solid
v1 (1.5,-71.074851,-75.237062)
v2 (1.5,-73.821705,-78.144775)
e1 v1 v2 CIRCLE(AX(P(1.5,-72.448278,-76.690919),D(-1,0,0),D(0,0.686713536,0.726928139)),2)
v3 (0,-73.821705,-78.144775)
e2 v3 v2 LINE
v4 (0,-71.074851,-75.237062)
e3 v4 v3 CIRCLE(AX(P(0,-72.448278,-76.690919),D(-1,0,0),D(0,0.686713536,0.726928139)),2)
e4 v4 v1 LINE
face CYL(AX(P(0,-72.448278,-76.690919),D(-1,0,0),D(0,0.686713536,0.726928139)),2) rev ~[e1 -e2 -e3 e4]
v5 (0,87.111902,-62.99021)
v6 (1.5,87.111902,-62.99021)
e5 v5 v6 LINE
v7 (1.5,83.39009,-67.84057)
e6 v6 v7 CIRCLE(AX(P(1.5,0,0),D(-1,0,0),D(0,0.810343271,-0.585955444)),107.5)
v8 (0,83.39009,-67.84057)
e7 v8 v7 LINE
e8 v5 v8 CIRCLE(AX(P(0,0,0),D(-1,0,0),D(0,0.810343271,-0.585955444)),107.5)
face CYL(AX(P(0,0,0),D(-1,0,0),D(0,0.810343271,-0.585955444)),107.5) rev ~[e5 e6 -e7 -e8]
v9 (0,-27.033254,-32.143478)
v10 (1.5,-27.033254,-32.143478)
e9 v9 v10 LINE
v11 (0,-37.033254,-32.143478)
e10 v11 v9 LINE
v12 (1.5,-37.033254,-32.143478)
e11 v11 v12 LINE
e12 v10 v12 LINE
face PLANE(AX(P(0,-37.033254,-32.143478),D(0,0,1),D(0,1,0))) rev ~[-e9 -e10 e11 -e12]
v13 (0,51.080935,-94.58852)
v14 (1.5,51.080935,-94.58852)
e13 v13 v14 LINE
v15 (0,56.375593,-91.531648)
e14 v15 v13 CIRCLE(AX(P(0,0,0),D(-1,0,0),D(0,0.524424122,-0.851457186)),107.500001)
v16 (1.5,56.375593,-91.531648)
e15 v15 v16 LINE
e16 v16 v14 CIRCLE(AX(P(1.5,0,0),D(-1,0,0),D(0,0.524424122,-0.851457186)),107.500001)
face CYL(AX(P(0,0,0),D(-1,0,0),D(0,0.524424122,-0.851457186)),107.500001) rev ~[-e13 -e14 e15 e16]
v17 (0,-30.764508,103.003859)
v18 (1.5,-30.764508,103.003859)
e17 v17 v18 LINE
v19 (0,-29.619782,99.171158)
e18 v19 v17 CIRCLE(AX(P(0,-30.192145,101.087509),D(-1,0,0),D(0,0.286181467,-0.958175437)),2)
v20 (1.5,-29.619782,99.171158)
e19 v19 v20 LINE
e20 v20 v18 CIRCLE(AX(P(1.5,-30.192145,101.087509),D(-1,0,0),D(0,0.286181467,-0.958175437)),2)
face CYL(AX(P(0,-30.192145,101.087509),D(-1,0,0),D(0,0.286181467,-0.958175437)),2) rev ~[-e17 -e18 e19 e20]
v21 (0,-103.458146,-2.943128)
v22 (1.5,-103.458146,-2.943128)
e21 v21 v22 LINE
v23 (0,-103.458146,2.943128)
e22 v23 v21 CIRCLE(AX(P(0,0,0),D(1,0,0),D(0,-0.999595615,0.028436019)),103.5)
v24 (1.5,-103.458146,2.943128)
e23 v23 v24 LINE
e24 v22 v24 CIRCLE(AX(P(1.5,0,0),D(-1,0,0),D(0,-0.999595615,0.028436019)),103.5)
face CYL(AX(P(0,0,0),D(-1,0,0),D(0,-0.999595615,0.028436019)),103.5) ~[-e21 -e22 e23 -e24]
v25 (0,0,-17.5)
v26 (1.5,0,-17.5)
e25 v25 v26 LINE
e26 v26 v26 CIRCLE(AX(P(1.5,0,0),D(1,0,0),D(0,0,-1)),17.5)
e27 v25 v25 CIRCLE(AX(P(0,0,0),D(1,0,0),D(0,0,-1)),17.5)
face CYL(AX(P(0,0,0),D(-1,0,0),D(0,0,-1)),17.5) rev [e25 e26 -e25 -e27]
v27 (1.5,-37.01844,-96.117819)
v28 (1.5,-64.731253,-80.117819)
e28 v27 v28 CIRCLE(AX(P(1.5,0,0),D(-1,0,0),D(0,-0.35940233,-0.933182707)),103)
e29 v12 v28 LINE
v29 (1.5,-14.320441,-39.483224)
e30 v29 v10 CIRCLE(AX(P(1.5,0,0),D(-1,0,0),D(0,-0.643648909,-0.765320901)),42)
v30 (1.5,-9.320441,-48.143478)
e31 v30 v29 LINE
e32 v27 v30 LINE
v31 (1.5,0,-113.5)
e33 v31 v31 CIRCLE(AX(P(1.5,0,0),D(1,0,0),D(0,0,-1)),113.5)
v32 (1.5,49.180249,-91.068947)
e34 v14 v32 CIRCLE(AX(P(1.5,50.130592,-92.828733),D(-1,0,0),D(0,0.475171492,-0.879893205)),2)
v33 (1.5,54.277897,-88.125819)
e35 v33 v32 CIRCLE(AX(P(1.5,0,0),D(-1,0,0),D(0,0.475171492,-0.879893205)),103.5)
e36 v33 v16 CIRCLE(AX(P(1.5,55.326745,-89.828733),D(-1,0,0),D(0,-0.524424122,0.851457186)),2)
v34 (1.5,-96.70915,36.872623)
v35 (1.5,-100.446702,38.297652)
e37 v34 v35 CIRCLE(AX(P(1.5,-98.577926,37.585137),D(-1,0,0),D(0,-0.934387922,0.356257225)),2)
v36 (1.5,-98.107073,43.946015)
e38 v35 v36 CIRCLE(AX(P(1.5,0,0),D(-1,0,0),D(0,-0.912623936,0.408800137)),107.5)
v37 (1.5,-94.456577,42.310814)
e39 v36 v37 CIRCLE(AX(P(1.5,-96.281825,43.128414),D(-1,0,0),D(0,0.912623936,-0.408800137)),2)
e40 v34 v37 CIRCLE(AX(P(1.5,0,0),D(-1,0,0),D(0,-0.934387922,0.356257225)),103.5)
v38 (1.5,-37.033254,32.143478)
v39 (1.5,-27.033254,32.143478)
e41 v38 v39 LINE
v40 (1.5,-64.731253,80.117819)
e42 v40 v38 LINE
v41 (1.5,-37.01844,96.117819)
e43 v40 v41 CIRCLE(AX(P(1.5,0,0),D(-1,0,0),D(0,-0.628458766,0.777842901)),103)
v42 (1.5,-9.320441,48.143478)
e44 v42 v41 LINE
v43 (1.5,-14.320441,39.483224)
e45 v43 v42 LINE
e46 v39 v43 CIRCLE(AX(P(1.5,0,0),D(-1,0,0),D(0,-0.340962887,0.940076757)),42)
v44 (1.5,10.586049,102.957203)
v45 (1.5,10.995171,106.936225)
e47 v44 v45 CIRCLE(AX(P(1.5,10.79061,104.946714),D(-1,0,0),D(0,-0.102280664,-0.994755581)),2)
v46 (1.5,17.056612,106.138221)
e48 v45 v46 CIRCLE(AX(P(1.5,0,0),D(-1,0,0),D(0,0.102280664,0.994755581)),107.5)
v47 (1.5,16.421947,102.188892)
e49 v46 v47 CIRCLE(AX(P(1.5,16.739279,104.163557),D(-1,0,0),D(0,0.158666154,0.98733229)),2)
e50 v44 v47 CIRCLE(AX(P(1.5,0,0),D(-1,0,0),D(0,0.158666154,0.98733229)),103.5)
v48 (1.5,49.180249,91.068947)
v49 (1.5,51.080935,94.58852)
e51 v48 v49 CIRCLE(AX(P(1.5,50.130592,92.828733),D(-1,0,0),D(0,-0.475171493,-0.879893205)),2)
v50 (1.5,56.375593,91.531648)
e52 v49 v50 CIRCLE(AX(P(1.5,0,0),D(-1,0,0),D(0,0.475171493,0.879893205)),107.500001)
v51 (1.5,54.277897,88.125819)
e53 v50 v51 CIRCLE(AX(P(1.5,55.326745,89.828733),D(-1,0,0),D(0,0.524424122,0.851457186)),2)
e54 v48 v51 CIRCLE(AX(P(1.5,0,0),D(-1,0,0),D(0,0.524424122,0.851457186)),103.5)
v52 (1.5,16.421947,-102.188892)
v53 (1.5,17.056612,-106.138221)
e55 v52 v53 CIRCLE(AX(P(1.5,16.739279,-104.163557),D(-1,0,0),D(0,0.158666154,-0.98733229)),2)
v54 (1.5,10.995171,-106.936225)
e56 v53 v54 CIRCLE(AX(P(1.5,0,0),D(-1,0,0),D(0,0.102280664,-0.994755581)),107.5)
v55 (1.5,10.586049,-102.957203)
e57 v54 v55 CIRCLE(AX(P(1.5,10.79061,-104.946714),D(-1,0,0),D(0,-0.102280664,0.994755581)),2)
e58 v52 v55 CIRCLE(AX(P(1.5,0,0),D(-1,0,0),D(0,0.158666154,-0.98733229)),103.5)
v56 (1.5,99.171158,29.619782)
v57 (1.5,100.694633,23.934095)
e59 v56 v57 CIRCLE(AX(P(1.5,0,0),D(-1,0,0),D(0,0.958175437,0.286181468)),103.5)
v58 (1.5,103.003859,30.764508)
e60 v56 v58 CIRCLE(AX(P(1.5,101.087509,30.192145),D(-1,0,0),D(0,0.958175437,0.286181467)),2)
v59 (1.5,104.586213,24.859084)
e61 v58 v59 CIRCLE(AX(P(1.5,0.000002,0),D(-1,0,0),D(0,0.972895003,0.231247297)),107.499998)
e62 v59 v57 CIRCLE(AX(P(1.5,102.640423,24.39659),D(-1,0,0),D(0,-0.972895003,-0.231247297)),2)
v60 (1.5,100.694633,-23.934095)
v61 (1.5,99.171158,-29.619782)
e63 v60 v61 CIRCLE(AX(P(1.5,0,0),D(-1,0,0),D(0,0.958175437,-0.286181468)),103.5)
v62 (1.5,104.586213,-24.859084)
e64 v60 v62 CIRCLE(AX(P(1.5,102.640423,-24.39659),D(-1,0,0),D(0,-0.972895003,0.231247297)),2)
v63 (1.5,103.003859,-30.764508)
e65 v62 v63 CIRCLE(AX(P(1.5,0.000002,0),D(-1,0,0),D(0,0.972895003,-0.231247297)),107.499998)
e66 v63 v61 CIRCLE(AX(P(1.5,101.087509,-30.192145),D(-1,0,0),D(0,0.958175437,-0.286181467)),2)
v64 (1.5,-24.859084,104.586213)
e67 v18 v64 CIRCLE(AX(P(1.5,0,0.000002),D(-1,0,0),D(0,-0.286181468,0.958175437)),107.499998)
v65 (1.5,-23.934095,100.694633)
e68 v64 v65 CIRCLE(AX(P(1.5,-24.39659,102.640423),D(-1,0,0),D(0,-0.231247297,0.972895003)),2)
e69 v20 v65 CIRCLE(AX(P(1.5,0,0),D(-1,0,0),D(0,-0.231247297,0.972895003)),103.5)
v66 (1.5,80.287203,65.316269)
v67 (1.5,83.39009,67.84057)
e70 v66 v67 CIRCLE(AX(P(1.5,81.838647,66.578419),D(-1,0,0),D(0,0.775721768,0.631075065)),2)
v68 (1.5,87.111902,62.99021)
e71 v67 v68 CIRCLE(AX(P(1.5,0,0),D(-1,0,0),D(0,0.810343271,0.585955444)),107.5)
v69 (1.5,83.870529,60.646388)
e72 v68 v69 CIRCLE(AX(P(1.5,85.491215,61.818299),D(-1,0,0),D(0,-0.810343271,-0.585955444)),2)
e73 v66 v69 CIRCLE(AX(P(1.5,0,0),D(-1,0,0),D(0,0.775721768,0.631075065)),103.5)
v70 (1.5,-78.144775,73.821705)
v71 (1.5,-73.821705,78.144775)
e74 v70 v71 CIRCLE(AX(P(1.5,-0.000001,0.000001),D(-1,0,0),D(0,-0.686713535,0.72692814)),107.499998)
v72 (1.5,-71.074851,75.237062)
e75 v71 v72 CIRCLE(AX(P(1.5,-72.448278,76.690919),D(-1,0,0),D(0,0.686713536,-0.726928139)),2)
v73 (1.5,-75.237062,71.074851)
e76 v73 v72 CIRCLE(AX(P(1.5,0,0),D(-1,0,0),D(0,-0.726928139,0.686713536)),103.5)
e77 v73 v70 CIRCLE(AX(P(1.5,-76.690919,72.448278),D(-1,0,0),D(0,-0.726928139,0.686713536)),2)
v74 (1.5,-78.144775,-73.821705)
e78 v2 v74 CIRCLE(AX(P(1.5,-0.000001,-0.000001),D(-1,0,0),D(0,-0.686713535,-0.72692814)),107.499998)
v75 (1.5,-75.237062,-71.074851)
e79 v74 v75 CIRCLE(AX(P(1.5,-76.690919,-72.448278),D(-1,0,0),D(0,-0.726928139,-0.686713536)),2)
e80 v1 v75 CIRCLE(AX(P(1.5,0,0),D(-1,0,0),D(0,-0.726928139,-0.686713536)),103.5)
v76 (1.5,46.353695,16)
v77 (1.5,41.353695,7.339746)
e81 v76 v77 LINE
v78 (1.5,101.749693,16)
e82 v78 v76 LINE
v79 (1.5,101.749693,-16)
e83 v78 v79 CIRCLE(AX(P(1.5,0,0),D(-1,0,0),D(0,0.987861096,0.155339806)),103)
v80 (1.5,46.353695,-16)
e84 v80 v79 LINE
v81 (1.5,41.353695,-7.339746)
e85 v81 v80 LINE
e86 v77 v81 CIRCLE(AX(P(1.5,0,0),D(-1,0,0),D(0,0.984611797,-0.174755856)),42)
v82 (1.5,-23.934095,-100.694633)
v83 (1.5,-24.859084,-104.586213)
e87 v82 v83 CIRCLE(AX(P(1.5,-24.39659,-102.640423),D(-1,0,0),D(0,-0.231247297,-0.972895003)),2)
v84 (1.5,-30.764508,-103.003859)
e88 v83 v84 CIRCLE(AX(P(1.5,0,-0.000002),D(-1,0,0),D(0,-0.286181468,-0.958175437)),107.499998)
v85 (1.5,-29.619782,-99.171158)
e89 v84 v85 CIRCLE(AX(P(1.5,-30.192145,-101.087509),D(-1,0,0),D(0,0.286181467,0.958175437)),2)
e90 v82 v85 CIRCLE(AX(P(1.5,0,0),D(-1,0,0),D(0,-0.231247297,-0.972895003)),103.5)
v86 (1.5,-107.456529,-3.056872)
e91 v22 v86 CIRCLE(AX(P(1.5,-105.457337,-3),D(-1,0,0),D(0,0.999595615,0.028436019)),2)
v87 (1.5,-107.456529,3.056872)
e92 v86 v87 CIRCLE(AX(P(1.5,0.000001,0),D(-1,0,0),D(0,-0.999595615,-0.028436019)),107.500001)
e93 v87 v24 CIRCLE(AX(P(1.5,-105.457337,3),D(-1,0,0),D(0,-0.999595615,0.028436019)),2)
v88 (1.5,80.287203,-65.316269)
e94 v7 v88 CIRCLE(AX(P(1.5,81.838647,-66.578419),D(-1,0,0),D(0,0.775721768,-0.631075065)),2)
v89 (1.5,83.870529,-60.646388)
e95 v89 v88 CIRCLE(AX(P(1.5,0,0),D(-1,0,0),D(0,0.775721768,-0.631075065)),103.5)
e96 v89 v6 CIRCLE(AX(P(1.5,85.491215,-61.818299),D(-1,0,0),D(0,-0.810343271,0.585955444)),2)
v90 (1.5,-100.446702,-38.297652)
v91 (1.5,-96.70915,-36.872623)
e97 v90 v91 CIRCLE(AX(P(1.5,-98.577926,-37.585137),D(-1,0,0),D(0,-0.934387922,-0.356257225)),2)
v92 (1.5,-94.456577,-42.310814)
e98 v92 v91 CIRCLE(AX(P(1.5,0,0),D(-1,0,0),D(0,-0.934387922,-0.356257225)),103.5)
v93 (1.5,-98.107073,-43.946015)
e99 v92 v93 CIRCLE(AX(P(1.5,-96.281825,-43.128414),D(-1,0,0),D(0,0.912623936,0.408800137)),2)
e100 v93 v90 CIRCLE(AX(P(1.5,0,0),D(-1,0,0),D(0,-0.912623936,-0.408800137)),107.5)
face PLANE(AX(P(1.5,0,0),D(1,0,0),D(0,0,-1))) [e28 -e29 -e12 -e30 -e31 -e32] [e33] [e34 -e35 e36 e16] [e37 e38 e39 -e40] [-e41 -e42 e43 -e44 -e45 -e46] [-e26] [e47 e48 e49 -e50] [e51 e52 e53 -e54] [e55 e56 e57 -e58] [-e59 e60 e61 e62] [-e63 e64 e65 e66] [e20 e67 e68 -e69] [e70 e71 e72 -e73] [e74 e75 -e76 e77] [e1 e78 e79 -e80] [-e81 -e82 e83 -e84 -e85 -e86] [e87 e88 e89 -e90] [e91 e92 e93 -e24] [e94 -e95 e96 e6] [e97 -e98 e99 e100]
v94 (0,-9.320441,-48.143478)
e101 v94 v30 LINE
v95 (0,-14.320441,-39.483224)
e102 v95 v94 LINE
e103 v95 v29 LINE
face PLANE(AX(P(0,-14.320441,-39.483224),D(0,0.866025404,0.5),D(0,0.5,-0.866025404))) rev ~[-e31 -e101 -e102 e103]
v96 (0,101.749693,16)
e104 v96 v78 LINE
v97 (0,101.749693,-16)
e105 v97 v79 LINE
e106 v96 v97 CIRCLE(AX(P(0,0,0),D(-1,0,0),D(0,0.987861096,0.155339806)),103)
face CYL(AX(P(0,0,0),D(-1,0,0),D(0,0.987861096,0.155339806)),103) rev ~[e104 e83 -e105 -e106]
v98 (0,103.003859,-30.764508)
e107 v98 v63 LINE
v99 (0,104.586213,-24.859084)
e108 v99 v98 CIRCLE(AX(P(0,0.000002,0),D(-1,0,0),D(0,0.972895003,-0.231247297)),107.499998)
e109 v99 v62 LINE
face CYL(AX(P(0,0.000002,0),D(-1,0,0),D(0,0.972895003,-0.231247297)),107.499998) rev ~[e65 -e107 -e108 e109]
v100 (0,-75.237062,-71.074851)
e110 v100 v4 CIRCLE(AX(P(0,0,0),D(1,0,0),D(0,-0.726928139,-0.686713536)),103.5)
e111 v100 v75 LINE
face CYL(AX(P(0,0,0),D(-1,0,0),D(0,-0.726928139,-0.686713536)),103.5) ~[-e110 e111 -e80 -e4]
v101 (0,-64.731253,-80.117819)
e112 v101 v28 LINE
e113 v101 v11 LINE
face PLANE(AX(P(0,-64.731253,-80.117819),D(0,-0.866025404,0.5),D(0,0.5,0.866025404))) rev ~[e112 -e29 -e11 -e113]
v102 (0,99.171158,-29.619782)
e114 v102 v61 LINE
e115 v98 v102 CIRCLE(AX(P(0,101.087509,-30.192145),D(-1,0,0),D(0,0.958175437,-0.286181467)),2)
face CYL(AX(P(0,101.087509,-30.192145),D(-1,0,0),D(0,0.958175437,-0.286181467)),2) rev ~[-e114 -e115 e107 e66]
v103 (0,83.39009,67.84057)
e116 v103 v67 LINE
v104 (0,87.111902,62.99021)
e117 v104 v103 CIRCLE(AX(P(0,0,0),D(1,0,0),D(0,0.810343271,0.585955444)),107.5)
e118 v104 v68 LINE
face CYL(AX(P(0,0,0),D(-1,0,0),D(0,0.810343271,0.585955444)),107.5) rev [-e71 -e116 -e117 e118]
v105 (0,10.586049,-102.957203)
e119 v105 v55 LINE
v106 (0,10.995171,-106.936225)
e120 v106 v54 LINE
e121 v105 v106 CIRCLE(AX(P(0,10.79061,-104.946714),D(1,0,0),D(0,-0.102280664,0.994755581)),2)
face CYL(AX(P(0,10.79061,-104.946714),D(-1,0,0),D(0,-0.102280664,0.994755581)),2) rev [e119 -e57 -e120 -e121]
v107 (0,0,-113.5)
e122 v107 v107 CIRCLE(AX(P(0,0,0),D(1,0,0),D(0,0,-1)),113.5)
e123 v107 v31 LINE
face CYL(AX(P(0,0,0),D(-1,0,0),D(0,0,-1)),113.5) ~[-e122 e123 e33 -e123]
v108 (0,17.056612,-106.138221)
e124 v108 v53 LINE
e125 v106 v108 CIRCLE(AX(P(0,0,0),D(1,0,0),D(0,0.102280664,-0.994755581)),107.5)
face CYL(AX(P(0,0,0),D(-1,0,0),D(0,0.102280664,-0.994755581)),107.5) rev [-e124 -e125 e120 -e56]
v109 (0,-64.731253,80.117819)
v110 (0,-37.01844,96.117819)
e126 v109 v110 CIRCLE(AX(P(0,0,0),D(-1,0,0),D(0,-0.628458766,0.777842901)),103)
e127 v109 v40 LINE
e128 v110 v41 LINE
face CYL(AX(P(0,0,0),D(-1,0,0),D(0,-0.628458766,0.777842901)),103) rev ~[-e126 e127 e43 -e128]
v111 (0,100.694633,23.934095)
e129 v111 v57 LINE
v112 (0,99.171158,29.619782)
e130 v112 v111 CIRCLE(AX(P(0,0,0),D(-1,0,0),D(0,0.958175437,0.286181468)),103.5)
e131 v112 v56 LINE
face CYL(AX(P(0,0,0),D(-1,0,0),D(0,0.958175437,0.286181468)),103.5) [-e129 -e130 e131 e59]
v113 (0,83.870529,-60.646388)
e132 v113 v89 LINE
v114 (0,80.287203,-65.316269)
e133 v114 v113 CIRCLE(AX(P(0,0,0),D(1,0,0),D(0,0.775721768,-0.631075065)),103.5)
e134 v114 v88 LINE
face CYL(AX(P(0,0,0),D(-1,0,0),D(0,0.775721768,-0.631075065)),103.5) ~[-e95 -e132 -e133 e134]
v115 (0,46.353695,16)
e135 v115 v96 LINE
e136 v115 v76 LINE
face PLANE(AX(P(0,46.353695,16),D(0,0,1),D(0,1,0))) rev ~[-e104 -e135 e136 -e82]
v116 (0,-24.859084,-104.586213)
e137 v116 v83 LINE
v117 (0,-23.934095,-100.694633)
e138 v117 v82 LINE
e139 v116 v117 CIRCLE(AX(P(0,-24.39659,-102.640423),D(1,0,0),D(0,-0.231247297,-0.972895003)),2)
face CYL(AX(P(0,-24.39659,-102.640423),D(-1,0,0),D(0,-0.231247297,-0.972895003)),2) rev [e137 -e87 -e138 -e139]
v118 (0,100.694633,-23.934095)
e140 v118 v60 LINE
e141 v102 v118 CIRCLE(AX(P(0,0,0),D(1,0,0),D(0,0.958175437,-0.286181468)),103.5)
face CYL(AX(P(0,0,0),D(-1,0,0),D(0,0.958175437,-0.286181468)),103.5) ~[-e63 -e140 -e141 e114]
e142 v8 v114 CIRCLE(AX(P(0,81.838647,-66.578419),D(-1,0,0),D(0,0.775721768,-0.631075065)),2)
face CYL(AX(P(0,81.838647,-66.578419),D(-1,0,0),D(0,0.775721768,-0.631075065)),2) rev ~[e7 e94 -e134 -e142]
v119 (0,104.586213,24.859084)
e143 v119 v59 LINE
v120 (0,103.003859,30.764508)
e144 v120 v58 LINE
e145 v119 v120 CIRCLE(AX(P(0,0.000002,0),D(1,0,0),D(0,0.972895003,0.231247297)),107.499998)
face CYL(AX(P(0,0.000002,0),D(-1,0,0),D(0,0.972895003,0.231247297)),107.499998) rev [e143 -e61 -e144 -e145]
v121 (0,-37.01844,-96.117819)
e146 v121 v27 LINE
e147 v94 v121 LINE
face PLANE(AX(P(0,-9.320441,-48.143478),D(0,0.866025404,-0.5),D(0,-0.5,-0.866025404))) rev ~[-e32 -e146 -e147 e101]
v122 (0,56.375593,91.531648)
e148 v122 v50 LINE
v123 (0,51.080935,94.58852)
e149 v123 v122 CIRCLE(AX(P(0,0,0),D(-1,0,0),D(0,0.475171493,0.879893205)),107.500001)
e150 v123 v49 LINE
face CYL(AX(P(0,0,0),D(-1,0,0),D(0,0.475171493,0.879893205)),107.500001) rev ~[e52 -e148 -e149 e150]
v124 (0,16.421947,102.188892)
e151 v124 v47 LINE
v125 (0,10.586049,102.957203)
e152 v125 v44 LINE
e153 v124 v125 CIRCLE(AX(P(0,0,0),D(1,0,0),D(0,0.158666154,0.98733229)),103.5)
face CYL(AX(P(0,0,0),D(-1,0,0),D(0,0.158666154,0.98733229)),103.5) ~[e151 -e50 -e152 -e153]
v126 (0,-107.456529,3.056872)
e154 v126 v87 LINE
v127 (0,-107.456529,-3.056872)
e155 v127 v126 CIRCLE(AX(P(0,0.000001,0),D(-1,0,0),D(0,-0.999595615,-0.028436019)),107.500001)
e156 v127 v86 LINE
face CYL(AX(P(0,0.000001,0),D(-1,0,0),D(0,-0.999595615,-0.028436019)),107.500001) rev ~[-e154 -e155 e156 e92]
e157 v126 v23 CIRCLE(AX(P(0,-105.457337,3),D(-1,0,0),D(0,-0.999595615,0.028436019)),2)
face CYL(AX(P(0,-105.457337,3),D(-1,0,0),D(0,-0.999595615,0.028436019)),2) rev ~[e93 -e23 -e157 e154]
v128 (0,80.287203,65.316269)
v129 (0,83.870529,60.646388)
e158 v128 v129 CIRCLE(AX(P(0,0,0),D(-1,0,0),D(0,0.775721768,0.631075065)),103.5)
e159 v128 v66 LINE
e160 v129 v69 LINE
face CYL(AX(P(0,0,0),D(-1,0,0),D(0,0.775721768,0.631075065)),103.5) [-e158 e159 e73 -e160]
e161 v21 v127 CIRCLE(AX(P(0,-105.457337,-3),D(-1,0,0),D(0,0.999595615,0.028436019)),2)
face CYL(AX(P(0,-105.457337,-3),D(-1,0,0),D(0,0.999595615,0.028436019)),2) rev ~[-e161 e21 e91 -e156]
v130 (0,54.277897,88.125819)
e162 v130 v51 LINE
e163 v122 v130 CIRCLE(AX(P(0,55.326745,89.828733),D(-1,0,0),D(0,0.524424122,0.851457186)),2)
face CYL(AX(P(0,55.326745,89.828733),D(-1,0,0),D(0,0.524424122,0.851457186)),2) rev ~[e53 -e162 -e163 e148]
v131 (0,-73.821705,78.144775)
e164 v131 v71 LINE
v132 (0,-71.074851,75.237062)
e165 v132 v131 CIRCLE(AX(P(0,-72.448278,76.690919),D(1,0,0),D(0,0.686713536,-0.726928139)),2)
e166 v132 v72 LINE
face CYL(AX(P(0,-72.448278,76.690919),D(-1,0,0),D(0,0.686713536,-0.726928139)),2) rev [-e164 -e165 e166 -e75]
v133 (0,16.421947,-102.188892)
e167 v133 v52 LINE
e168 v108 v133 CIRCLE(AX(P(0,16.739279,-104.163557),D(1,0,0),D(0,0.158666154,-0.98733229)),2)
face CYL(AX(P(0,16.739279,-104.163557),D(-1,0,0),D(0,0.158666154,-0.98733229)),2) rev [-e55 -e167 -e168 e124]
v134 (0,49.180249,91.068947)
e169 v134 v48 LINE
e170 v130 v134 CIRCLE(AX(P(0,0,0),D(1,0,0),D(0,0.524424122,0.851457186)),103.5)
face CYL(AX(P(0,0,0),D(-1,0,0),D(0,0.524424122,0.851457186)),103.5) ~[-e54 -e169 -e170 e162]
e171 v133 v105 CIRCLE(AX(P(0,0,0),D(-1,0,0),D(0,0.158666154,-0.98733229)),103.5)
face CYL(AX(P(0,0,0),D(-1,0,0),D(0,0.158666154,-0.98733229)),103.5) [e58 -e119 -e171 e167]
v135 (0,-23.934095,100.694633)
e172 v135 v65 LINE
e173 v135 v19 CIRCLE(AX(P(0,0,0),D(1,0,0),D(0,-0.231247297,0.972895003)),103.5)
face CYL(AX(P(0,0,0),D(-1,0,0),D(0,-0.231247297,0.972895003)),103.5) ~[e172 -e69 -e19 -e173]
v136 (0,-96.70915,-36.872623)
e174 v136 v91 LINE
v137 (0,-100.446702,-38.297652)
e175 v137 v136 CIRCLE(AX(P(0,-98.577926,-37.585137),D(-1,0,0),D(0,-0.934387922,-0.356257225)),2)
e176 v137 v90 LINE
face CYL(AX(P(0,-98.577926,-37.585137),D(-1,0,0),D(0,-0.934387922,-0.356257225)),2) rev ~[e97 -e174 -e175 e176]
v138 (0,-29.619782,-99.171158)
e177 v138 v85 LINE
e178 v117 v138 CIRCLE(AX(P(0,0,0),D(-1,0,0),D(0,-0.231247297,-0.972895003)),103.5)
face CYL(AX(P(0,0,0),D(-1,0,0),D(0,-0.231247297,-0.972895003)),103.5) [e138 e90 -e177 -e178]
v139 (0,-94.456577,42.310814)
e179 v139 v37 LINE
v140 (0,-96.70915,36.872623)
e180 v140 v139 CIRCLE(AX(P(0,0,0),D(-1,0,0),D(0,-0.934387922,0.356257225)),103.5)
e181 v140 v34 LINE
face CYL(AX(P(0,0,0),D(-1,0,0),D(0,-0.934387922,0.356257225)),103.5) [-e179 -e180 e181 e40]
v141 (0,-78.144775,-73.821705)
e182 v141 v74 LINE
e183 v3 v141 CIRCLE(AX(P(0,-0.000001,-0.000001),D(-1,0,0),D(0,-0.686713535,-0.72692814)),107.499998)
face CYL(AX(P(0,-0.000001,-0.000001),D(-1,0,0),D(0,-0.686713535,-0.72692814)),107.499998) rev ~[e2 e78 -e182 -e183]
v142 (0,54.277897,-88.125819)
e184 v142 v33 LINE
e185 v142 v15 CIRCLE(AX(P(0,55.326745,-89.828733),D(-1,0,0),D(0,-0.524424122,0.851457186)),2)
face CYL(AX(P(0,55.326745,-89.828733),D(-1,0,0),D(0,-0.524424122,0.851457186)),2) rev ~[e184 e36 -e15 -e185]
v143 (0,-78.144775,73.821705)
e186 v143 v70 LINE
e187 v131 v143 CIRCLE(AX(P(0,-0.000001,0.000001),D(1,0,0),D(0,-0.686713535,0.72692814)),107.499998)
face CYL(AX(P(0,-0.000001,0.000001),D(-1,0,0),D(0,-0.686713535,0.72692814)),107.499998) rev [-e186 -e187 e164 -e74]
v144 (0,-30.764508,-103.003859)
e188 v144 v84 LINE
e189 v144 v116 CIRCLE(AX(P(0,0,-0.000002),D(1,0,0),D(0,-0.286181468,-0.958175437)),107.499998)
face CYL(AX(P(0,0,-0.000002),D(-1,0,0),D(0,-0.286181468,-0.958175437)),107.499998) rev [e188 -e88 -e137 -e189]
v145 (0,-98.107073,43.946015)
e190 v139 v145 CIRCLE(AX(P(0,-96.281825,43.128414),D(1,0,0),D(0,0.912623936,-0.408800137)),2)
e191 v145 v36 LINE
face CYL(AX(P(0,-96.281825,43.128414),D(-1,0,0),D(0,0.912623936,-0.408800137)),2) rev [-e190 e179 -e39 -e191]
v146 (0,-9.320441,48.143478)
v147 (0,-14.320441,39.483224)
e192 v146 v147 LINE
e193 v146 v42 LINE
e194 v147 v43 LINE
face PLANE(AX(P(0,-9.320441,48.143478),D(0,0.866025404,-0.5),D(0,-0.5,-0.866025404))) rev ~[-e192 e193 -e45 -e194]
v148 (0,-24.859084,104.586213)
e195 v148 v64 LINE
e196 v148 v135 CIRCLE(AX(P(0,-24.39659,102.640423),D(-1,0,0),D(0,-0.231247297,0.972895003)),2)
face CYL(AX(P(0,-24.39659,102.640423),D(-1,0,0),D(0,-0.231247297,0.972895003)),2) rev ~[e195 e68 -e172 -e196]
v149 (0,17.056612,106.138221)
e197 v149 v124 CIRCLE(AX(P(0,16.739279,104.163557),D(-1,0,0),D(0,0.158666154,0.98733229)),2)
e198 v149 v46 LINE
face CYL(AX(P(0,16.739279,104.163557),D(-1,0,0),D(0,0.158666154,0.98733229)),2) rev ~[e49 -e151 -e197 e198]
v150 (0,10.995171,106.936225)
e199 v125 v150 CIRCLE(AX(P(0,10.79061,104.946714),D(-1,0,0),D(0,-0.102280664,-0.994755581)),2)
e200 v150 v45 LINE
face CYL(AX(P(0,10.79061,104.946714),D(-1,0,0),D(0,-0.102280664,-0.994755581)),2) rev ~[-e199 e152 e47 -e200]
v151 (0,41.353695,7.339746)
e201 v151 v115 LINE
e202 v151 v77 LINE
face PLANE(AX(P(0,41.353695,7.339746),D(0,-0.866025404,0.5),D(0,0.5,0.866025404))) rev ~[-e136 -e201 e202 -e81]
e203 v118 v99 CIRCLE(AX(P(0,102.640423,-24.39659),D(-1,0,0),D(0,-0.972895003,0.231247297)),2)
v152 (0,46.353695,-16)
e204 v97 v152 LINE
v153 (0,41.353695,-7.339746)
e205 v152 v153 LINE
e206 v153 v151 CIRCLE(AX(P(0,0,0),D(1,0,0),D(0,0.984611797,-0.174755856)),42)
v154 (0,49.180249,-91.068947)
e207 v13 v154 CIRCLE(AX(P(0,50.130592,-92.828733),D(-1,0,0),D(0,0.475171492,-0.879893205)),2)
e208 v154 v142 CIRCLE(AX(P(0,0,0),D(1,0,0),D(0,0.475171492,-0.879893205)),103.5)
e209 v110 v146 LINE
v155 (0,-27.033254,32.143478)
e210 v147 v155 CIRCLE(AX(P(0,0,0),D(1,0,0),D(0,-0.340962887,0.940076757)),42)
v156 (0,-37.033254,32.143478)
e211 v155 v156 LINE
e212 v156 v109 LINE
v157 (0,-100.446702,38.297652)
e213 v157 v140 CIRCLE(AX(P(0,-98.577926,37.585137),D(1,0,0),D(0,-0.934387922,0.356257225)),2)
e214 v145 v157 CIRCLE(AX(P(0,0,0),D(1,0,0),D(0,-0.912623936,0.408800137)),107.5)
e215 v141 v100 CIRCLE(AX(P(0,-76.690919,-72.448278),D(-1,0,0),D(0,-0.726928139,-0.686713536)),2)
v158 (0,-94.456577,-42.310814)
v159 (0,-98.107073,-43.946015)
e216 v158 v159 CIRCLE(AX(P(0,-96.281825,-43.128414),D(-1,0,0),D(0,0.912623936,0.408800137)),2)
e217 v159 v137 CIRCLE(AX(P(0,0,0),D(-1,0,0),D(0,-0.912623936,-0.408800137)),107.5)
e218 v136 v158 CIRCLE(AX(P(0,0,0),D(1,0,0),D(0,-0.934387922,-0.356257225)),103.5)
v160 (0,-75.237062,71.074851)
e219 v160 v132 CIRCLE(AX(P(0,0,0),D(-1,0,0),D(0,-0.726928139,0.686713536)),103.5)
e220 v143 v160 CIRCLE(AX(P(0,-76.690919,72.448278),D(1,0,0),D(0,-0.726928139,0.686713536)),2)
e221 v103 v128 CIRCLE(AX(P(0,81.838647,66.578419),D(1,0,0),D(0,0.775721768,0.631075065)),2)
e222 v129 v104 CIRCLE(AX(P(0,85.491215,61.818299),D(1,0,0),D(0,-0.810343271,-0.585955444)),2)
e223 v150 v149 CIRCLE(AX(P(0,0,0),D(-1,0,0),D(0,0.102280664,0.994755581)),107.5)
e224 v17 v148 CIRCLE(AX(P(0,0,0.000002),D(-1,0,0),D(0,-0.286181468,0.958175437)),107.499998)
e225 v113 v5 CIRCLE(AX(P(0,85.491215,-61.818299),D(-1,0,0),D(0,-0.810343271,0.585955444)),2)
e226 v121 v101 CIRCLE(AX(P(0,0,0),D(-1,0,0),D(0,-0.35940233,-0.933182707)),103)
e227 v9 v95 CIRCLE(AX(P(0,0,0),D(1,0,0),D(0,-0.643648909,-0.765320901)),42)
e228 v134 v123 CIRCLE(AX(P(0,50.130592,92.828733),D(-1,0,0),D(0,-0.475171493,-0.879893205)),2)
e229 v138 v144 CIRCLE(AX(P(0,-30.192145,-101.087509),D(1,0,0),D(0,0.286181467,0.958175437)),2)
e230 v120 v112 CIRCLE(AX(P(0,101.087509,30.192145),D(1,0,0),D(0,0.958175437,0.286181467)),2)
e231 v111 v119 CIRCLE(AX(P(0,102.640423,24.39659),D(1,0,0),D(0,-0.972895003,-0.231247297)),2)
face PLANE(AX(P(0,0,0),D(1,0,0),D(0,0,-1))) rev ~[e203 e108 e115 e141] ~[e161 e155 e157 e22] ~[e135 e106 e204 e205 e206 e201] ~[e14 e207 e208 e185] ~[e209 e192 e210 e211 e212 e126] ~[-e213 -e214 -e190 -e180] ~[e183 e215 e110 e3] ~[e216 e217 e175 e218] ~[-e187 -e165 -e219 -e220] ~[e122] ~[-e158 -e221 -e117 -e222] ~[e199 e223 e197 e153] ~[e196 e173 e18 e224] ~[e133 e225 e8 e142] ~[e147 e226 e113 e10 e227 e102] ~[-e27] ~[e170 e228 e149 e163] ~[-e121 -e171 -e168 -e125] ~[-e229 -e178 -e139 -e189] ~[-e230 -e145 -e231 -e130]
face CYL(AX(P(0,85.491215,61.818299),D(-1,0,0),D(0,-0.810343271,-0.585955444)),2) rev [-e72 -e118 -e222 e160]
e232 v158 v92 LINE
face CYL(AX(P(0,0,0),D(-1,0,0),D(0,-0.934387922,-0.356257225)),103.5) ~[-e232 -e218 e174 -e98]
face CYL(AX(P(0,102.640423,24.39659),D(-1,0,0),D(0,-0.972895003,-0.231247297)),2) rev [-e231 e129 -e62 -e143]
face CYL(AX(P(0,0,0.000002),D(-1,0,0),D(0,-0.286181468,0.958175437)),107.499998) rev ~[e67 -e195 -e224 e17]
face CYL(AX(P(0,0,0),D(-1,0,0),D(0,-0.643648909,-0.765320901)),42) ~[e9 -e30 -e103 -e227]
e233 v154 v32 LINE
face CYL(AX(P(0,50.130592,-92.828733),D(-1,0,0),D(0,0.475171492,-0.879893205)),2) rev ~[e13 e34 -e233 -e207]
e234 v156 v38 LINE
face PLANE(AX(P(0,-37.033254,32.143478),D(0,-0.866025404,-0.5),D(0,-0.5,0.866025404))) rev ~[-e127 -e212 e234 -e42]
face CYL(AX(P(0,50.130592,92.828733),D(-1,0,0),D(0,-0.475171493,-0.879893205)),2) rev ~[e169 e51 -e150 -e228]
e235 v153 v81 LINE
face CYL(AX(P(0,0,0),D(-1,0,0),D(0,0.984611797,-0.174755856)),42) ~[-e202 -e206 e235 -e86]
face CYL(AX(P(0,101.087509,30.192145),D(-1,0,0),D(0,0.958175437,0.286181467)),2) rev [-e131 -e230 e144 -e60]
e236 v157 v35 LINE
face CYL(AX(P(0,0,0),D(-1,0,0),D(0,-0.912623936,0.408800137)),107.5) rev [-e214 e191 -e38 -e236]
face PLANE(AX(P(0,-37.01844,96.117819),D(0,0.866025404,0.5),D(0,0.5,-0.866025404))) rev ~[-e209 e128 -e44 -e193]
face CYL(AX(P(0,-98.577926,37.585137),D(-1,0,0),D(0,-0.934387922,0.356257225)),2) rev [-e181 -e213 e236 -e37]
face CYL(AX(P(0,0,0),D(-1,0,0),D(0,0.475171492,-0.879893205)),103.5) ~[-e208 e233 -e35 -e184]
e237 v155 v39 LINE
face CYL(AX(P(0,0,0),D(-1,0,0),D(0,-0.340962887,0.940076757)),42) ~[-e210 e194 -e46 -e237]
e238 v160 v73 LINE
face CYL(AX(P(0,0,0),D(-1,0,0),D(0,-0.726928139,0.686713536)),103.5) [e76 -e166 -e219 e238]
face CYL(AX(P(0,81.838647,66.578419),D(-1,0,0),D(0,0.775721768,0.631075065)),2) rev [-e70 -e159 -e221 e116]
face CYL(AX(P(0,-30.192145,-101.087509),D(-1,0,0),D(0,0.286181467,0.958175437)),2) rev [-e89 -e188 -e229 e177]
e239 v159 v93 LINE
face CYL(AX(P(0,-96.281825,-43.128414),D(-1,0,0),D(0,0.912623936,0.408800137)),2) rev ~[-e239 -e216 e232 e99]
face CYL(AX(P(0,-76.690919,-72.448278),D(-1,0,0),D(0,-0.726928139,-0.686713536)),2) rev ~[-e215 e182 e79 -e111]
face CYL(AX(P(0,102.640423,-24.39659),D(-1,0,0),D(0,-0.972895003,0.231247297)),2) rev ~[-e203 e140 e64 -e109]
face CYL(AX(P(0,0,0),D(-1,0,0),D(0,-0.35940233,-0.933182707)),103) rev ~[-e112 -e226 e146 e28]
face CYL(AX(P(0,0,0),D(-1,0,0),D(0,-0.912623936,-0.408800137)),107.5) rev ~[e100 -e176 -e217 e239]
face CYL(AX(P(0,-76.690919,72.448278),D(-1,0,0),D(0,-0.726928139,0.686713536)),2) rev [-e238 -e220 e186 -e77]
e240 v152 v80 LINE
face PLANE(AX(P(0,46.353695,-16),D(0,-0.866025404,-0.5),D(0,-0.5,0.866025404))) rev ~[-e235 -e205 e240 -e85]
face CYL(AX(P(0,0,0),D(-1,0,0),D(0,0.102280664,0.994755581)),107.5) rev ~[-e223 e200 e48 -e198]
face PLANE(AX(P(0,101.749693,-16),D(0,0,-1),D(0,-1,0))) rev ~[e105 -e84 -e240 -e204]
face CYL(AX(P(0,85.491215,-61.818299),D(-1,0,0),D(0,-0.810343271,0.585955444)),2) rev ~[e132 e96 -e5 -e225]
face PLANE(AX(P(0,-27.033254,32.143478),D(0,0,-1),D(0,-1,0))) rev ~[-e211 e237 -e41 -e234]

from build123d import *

# Parameters (mm, degrees)
SKETCH_1_R               = 113.5
SKETCH_1_R_2             = 17.5
EXTRUDE_1_DEPTH          = 1.5
CUT_EXTRUDE_1_DEPTH      = 2.5
CUT_EXTRUDE_2_DEPTH      = 2.5
PATTERN_CIRCULAR_1_COUNT = 3


with BuildPart() as part:
    # Эскиз1 → Бобышка-Вытянуть1 (new body)
    with BuildSketch(Plane(origin=(0, 0, 0), x_dir=(0, 0, -1), z_dir=(1, 0, 0))):
        Circle(SKETCH_1_R)
        Circle(SKETCH_1_R_2, mode=Mode.SUBTRACT)
    extrude(amount=EXTRUDE_1_DEPTH)

    # Эскиз2 → Вырез-Вытянуть1 (cut, through all)
    with BuildSketch(Plane.ZY):
        with BuildLine():
            Line((-16, 101.749692874), (-16, 46.353695472))
            Line((-16, 46.353695472), (-7.339745962, 41.353695472))
            ThreePointArc((-7.339745962, 41.353695472), (0, 42), (7.339745962, 41.353695472))
            Line((7.339745962, 41.353695472), (16, 46.353695472))
            Line((16, 46.353695472), (16, 101.749692874))
            ThreePointArc((16, 101.749692874), (0, 103), (-16, 101.749692874))
        make_face()
        with BuildLine():
            Line((96.117818856, -37.018439977), (48.143477838, -9.320441276))
            Line((48.143477838, -9.320441276), (39.4832238, -14.320441276))
            ThreePointArc((39.4832238, -14.320441276), (36.373066959, -21), (32.143477838, -27.033254197))
            Line((32.143477838, -27.033254197), (32.143477838, -37.033254197))
            Line((32.143477838, -37.033254197), (80.117818856, -64.731252898))
            ThreePointArc((80.117818856, -64.731252898), (89.20061659, -51.5), (96.117818856, -37.018439977))
        make_face()
        with BuildLine():
            Line((-80.117818856, -64.731252898), (-32.143477838, -37.033254197))
            Line((-32.143477838, -37.033254197), (-32.143477838, -27.033254197))
            ThreePointArc((-32.143477838, -27.033254197), (-36.373066959, -21), (-39.4832238, -14.320441276))
            Line((-39.4832238, -14.320441276), (-48.143477838, -9.320441276))
            Line((-48.143477838, -9.320441276), (-96.117818856, -37.018439977))
            ThreePointArc((-96.117818856, -37.018439977), (-89.20061659, -51.5), (-80.117818856, -64.731252898))
        make_face()
    extrude(amount=-CUT_EXTRUDE_1_DEPTH, mode=Mode.SUBTRACT)

    # Эскиз3 → Вырез-Вытянуть2 (cut, through all)
    with BuildSketch(Plane.ZY):
        with BuildLine():
            ThreePointArc((-78.144774985, -73.821705091), (-76.013978978, -76.013978978), (-73.821705091, -78.144774985))
            ThreePointArc((-73.821705091, -78.144774985), (-70.994421741, -78.064345778), (-71.074850948, -75.237062428))
            ThreePointArc((-71.074850948, -75.237062428), (-73.185551853, -73.185551853), (-75.237062428, -71.074850948))
            ThreePointArc((-75.237062428, -71.074850948), (-78.064345778, -70.994421741), (-78.144774985, -73.821705091))
        make_face()
        with BuildLine():
            ThreePointArc((-43.946014694, -98.107073101), (-41.138468979, -99.317049745), (-38.297651676, -100.446701669))
            ThreePointArc((-38.297651676, -100.446701669), (-35.716361381, -99.290440274), (-36.872622776, -96.709149979))
            ThreePointArc((-36.872622776, -96.709149979), (-39.60773525, -95.621531615), (-42.310814148, -94.456577358))
            ThreePointArc((-42.310814148, -94.456577358), (-44.953662293, -95.464224956), (-43.946014694, -98.107073101))
        make_face()
        with BuildLine():
            ThreePointArc((-3.056872038, -107.456528575), (0, -107.5), (3.056872038, -107.456528575))
            ThreePointArc((3.056872038, -107.456528575), (4.999191229, -105.400465308), (2.943127962, -103.458146116))
            ThreePointArc((2.943127962, -103.458146116), (0, -103.5), (-2.943127962, -103.458146116))
            ThreePointArc((-2.943127962, -103.458146116), (-4.999191229, -105.400465308), (-3.056872038, -107.456528575))
        make_face()
        with BuildLine():
            ThreePointArc((43.946014694, -98.107073101), (41.138468979, -99.317049745), (38.297651676, -100.446701669))
            ThreePointArc((38.297651676, -100.446701669), (35.716361381, -99.290440274), (36.872622776, -96.709149979))
            ThreePointArc((36.872622776, -96.709149979), (39.60773525, -95.621531615), (42.310814148, -94.456577358))
            ThreePointArc((42.310814148, -94.456577358), (44.953662293, -95.464224956), (43.946014694, -98.107073101))
        make_face()
        with BuildLine():
            ThreePointArc((78.144774985, -73.821705091), (76.013978978, -76.013978978), (73.821705091, -78.144774985))
            ThreePointArc((73.821705091, -78.144774985), (70.994421741, -78.064345778), (71.074850948, -75.237062428))
            ThreePointArc((71.074850948, -75.237062428), (73.185551853, -73.185551853), (75.237062428, -71.074850948))
            ThreePointArc((75.237062428, -71.074850948), (78.064345778, -70.994421741), (78.144774985, -73.821705091))
        make_face()
    cut_extrude_2 = extrude(amount=-CUT_EXTRUDE_2_DEPTH, mode=Mode.SUBTRACT)

    # Круговой массив1: Вырез-Вытянуть2 ×3 about axis
    pattern_circular_1_axis = Axis((0, 0, 0), (1, 0, 0))
    for i in range(1, PATTERN_CIRCULAR_1_COUNT):
        add(cut_extrude_2.rotate(pattern_circular_1_axis, i * 360 / PATTERN_CIRCULAR_1_COUNT), mode=Mode.SUBTRACT)


solid = part.part
